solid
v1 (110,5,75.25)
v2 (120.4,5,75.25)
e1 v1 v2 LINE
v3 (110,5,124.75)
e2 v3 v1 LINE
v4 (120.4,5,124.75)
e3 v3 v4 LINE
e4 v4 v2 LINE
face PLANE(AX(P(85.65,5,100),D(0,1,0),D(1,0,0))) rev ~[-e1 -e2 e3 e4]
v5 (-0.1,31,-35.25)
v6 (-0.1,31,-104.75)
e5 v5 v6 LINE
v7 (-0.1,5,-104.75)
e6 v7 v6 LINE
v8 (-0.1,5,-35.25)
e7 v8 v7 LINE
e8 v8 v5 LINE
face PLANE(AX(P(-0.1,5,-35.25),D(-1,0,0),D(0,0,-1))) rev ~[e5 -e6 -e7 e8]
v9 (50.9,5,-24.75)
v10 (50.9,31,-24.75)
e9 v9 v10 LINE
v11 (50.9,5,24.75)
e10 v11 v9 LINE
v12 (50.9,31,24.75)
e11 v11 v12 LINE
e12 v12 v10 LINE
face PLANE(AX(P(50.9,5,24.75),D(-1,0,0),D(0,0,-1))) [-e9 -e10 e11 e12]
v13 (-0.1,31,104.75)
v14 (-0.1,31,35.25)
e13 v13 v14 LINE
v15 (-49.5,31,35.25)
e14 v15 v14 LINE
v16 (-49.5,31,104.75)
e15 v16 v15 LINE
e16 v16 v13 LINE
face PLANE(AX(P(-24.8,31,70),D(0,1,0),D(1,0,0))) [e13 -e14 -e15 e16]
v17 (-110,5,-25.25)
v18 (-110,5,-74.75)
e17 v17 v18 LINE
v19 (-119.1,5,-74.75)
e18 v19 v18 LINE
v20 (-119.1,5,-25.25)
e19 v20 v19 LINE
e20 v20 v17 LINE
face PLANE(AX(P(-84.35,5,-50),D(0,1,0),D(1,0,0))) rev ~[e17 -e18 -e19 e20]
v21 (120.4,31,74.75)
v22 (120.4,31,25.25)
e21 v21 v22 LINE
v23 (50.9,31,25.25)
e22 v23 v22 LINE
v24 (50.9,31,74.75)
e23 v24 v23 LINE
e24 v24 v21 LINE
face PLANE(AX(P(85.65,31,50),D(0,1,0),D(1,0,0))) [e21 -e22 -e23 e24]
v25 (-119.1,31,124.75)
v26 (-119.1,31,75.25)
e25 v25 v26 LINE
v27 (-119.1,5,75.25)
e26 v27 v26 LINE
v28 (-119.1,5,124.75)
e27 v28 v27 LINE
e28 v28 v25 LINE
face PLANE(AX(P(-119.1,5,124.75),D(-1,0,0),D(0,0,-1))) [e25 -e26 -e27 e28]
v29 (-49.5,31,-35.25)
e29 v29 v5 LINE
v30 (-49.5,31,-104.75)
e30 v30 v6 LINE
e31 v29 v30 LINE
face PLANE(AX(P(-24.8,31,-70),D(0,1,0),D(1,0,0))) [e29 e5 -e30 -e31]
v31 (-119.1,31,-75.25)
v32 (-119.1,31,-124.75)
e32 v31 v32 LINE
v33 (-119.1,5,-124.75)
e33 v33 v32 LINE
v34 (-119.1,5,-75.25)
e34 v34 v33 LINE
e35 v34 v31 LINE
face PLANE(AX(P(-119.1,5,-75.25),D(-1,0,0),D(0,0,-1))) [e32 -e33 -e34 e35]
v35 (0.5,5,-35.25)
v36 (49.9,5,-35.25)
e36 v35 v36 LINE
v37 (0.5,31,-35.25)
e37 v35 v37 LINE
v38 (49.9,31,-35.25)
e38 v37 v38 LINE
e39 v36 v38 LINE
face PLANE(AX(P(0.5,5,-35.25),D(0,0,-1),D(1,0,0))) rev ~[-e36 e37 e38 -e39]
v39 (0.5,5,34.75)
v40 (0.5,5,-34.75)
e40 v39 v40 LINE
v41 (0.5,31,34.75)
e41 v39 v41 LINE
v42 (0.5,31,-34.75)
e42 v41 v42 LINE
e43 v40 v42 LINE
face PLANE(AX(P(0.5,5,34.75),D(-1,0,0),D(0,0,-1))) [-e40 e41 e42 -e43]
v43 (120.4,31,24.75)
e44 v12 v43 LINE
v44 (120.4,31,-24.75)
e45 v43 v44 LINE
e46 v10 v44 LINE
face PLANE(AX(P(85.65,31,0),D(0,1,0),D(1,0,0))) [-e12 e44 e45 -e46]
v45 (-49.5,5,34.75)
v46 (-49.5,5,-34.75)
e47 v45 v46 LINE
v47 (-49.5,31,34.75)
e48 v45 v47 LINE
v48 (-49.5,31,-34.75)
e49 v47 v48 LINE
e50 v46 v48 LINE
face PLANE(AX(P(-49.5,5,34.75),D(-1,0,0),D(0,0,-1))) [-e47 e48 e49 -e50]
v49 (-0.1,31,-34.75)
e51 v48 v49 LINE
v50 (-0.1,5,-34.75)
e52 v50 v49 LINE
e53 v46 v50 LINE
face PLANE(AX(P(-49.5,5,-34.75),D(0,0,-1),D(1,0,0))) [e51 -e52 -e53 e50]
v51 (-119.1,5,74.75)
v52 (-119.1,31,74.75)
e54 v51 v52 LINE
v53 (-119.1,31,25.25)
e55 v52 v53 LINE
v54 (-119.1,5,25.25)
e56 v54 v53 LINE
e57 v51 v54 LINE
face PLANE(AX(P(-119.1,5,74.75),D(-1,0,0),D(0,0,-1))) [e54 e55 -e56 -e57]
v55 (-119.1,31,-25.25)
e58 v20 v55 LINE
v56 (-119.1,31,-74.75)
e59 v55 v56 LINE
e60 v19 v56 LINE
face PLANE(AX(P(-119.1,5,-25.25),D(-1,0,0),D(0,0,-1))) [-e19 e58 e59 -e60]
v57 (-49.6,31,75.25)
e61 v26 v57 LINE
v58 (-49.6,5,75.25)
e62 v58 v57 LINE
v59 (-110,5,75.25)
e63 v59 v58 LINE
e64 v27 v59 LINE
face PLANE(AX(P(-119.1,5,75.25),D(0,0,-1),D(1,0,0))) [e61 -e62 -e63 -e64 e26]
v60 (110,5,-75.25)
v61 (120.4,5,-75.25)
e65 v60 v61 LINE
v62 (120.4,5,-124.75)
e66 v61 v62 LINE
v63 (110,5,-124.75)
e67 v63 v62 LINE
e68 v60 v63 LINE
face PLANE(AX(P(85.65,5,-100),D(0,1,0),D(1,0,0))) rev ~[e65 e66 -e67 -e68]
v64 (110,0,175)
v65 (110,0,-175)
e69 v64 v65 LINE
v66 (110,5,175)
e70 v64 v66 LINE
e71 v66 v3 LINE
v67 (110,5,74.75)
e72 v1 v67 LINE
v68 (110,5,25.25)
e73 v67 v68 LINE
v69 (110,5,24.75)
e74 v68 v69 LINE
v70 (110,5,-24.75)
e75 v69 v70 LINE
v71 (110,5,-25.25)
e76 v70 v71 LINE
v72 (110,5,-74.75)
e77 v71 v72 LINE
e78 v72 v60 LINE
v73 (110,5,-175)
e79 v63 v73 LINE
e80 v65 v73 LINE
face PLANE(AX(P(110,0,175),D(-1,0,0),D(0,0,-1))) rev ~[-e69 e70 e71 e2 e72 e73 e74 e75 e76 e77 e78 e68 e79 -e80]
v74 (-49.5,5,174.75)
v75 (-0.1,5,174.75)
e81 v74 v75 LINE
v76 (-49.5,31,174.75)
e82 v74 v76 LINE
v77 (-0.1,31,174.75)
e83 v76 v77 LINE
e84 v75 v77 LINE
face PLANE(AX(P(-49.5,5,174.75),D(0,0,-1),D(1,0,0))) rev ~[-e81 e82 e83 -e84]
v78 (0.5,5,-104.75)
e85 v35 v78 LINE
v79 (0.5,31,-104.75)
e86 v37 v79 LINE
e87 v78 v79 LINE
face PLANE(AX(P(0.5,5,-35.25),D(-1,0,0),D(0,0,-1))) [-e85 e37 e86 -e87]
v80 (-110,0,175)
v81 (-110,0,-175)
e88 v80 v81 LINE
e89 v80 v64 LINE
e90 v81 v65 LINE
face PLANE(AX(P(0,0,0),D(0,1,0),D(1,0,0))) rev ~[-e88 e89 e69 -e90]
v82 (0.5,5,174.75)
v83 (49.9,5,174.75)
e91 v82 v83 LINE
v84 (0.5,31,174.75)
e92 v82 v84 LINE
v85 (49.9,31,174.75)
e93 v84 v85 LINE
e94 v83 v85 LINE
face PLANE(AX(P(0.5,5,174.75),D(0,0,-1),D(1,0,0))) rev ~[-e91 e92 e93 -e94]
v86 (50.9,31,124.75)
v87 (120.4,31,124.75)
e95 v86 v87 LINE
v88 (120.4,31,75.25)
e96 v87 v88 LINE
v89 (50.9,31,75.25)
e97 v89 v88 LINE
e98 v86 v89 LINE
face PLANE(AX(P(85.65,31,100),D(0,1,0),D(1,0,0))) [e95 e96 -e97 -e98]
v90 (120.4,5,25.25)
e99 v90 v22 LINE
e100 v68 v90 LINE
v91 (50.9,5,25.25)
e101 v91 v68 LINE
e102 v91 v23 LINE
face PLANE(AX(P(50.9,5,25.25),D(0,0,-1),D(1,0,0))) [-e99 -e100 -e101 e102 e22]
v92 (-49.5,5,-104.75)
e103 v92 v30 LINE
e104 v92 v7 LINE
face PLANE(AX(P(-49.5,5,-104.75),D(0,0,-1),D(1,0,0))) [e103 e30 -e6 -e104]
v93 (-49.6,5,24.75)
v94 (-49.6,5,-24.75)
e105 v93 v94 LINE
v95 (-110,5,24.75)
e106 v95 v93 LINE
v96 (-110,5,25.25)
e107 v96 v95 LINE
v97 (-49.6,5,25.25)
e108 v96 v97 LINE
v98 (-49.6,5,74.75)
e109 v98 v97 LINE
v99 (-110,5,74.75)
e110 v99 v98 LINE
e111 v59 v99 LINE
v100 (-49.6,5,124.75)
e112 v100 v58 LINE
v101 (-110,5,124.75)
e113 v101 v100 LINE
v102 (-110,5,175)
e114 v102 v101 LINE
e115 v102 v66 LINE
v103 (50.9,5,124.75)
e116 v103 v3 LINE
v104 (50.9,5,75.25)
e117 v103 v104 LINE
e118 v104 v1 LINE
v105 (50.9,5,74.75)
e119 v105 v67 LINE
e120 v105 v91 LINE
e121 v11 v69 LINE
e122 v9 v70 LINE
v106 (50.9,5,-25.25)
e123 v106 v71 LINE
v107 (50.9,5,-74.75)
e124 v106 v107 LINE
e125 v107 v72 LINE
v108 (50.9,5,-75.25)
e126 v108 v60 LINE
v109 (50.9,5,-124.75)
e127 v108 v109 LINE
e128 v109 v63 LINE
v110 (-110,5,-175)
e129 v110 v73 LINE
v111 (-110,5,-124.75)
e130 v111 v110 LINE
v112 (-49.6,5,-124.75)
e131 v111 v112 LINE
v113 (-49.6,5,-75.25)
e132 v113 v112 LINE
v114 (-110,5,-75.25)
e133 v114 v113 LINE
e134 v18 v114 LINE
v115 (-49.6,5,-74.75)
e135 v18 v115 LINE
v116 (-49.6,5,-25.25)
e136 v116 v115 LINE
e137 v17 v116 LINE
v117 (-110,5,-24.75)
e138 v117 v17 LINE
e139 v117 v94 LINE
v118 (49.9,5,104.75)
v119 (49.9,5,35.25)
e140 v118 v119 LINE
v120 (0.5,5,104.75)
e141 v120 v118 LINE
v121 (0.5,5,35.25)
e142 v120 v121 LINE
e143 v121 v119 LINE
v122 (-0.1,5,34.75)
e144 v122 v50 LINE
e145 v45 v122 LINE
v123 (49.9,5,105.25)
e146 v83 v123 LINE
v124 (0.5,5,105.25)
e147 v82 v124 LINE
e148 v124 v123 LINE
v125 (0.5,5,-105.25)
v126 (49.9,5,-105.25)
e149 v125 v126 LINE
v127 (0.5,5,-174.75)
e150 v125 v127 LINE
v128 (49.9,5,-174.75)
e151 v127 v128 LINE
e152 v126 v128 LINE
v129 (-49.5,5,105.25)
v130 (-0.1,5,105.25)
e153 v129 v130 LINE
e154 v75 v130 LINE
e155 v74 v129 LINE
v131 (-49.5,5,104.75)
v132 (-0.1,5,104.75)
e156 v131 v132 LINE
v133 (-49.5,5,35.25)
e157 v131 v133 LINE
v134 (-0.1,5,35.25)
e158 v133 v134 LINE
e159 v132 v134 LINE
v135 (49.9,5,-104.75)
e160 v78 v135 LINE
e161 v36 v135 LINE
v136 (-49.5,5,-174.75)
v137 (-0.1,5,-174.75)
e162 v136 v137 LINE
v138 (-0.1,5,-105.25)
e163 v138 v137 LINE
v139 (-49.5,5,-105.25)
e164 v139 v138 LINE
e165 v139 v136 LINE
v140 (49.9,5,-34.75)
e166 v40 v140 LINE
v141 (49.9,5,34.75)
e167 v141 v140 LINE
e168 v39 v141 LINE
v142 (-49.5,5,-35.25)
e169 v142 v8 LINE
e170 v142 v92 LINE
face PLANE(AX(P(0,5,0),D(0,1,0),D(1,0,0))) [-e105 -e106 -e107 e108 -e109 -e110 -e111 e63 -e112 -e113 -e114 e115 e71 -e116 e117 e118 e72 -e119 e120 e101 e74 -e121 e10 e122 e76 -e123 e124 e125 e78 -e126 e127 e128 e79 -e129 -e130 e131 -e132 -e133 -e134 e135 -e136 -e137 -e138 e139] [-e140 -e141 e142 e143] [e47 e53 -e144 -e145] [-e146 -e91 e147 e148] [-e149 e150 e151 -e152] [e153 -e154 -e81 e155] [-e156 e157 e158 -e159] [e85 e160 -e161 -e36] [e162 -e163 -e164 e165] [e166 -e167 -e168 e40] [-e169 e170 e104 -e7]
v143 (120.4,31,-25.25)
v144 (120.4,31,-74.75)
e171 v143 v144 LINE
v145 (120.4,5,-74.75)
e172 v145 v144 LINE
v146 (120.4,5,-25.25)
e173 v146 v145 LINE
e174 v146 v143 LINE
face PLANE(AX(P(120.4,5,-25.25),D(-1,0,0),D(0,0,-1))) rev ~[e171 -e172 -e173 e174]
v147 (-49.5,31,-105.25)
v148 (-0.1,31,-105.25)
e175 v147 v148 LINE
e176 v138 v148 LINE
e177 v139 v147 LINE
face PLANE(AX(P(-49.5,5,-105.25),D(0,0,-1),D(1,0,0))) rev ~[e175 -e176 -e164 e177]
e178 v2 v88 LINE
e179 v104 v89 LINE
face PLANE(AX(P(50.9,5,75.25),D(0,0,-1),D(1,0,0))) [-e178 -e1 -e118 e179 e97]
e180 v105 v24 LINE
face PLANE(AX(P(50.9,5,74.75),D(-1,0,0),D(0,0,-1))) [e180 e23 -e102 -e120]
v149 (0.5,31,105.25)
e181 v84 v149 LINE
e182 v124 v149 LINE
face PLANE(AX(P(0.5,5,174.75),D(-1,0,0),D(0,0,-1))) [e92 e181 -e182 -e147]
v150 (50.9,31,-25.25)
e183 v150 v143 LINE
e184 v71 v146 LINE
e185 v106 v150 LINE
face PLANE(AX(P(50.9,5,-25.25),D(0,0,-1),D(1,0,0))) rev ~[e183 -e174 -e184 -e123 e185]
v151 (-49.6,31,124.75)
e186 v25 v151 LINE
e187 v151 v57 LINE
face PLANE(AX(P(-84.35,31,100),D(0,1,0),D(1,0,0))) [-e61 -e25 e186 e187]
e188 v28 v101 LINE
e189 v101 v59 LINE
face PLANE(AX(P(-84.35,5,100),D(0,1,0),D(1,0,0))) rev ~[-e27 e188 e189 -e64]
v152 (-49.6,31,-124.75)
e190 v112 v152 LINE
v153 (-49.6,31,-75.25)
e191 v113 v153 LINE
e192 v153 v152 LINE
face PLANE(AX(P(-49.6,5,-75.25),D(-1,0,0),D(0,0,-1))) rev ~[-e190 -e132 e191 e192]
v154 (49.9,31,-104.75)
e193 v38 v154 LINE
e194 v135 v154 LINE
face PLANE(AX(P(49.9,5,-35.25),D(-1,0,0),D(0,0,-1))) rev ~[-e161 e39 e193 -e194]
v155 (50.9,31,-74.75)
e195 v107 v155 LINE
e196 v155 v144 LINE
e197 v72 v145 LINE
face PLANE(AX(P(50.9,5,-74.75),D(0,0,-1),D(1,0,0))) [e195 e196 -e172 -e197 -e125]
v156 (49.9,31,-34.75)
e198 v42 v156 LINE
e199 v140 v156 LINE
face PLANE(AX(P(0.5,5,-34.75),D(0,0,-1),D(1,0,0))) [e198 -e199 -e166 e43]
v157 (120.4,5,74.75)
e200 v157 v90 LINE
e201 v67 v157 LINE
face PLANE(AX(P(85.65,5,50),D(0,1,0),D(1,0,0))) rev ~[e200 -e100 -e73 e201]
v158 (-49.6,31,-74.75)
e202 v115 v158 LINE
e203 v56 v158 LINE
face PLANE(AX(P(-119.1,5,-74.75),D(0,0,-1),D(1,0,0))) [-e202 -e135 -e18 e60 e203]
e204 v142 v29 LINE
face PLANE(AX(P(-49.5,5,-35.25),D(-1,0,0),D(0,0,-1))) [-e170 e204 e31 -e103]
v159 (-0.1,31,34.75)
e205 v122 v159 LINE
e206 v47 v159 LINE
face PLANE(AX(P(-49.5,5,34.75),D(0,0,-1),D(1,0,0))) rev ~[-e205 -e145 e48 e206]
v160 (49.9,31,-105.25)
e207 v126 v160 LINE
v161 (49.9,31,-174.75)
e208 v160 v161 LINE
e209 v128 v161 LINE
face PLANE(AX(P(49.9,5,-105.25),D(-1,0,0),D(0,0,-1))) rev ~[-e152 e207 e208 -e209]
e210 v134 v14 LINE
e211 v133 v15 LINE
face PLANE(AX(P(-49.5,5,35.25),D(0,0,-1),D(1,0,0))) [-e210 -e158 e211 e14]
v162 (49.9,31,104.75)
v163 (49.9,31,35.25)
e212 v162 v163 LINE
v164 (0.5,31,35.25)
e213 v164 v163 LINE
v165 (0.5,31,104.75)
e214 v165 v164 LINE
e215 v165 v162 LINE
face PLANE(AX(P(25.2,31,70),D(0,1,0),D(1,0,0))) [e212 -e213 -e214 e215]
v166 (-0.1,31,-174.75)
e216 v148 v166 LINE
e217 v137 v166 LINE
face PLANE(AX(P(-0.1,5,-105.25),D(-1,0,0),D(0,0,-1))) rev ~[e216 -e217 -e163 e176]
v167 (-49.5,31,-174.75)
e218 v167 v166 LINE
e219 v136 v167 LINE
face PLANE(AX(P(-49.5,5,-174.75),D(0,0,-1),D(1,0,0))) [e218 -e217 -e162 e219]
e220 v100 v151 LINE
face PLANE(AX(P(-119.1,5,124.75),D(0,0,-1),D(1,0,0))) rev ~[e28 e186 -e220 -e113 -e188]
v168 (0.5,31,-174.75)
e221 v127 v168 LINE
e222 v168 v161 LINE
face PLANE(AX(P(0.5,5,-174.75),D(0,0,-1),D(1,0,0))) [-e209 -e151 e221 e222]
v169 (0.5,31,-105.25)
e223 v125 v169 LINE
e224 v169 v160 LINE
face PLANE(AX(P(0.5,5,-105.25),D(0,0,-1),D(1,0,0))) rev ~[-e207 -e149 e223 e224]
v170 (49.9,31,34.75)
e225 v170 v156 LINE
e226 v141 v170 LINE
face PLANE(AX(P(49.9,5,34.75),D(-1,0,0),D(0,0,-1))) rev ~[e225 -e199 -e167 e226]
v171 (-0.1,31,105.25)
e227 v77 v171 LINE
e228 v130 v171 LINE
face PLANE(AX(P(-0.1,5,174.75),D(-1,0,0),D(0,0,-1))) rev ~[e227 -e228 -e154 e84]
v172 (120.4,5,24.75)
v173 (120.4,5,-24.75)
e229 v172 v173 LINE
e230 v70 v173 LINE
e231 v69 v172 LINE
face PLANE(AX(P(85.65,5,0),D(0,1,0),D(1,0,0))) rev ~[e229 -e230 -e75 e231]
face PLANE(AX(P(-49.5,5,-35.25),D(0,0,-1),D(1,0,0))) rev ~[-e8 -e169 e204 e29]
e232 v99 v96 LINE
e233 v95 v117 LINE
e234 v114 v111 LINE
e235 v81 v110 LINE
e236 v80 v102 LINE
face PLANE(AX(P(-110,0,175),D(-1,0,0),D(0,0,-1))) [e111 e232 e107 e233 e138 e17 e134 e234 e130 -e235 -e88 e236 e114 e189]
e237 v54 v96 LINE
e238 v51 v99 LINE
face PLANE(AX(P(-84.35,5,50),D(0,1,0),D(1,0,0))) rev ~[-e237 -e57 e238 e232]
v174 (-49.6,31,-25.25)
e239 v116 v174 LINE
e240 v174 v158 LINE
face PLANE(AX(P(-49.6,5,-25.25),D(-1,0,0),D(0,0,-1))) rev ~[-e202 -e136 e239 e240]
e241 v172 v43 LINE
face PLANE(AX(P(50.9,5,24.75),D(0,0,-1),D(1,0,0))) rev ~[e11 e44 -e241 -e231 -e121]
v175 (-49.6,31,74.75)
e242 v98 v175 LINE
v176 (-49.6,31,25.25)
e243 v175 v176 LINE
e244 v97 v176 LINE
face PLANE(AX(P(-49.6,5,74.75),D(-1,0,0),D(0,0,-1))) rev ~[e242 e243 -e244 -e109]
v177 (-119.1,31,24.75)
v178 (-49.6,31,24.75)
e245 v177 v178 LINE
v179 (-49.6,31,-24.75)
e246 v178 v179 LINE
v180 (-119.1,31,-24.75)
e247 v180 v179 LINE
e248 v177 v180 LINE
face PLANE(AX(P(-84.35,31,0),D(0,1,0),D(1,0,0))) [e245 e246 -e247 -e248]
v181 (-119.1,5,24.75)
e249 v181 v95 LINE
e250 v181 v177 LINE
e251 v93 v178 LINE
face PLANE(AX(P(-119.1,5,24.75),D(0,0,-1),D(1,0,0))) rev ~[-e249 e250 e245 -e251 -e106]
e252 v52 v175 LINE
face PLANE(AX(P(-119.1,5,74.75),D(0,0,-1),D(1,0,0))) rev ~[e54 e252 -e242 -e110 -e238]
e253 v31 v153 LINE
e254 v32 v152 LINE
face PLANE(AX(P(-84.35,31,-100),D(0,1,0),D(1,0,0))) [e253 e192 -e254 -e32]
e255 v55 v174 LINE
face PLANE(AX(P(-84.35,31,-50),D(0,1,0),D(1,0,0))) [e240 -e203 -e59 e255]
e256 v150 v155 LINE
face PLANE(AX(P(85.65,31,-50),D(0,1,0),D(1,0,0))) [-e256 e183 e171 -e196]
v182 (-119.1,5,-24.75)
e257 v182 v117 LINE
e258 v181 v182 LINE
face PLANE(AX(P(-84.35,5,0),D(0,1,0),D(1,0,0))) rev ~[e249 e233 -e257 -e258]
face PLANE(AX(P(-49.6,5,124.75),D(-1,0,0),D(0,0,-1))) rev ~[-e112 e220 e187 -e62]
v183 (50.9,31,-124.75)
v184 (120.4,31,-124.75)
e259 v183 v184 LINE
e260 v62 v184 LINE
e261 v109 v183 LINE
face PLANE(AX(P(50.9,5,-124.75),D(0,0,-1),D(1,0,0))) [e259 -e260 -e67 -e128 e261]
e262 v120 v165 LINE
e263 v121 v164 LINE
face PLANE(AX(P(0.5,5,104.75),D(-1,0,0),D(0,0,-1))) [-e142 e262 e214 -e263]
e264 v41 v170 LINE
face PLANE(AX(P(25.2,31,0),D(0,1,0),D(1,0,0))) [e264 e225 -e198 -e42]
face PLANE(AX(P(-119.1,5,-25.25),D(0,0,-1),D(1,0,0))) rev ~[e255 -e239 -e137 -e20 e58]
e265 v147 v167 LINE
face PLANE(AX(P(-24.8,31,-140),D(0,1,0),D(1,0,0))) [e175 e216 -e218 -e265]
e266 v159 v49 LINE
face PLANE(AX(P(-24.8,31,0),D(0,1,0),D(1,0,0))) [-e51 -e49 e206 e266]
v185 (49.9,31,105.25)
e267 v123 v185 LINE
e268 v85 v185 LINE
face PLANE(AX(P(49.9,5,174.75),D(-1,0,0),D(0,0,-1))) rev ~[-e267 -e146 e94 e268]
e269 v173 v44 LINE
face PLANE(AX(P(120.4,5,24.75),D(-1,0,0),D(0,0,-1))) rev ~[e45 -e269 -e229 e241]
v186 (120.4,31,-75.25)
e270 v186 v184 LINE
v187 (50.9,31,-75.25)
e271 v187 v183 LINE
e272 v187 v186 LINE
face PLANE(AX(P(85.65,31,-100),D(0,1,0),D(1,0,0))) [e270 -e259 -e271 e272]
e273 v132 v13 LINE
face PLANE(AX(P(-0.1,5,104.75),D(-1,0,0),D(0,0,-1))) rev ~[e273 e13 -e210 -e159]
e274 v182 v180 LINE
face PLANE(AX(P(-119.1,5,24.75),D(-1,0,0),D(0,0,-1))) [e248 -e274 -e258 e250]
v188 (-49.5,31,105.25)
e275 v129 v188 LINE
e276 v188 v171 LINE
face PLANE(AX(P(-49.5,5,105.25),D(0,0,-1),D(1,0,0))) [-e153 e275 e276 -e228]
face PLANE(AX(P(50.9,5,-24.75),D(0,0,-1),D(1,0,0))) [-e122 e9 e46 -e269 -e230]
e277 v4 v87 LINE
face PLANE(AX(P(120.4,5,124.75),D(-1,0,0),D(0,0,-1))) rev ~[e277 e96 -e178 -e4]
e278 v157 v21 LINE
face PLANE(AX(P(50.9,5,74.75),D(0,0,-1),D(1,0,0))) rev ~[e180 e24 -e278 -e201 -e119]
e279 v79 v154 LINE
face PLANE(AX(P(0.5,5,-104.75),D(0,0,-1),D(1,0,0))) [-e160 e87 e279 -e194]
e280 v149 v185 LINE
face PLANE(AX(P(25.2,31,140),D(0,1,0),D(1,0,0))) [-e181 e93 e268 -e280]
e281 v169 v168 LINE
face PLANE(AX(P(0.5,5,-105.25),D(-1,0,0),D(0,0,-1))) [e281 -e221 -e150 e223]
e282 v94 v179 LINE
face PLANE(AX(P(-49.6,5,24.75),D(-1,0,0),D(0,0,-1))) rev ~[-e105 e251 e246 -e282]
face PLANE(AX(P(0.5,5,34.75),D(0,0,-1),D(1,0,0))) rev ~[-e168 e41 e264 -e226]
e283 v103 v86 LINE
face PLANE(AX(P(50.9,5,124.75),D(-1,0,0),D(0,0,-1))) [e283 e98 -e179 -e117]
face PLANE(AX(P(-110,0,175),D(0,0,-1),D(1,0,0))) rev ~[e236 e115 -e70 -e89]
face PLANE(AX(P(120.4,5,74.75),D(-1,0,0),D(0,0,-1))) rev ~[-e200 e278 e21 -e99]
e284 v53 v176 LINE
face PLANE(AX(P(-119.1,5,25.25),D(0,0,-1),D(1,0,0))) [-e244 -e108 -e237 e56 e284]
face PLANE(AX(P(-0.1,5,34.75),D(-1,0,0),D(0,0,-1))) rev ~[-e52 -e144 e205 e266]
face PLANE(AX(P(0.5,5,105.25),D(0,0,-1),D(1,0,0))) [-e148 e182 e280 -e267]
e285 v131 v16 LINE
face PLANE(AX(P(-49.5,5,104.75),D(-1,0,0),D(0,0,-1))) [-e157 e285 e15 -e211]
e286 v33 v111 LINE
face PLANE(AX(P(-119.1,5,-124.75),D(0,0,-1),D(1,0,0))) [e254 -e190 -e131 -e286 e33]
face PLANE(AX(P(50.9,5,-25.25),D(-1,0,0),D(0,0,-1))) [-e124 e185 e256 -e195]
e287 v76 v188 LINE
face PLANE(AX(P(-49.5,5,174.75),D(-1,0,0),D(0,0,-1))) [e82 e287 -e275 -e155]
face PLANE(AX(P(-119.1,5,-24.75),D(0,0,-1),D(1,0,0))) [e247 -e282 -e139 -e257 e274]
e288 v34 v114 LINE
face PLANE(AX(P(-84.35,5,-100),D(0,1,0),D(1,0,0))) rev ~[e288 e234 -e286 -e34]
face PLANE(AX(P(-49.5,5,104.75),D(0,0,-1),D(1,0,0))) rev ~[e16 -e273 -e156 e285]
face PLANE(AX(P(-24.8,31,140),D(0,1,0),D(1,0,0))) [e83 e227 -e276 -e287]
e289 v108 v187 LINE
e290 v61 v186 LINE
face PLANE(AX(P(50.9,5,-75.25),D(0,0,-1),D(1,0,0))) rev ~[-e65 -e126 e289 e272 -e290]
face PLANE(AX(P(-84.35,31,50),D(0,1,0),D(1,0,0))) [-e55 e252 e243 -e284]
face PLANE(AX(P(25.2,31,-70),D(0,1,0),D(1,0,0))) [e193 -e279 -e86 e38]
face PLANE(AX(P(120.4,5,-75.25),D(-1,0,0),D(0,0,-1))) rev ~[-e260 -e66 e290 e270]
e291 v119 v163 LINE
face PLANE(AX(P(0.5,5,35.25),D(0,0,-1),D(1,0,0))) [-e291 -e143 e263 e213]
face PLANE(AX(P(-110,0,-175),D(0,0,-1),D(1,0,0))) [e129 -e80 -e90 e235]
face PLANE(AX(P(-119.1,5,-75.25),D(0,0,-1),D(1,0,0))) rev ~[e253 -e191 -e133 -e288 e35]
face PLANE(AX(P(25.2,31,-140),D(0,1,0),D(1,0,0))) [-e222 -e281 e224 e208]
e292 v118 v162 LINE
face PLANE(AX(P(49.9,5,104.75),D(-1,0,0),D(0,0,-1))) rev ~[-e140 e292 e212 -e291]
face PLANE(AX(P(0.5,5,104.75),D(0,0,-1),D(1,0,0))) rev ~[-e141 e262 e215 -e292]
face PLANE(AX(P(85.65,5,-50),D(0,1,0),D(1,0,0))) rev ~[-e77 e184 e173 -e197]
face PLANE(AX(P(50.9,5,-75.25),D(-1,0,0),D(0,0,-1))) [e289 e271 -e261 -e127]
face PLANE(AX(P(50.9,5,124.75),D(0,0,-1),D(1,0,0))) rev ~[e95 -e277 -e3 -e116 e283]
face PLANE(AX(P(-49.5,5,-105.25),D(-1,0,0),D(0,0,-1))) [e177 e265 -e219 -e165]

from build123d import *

# Parameters (mm, degrees)
SKETCH1_W                     = 220
SKETCH1_H                     = 350
BOSS_EXTRUDE1_DEPTH           = 5
SKETCH2_W                     = 49.4
SKETCH2_H                     = 69.5
BOSS_EXTRUDE2_DEPTH           = 26
LPATTERN1_COUNT               = 2
LPATTERN1_PITCH               = 50
LPATTERN3_COUNT               = 3
LPATTERN3_PITCH               = 70
LPATTERN3_COPY_1_SKETCH_W     = 49.4
LPATTERN3_COPY_1_SKETCH_H     = 69.5
LPATTERN3_COPY_1_DEPTH        = 26
LPATTERN3_COPY_2_SKETCH_W     = 49.4
LPATTERN3_COPY_2_SKETCH_H     = 69.5
LPATTERN3_COPY_2_DEPTH        = 26
LPATTERN3_COL_COUNT           = 3
LPATTERN3_COL_PITCH           = 70
LPATTERN3_COL_COPY_1_SKETCH_W = 49.4
LPATTERN3_COL_COPY_1_SKETCH_H = 69.5
LPATTERN3_COL_COPY_1_DEPTH    = 26
LPATTERN3_COL_COPY_2_SKETCH_W = 49.4
LPATTERN3_COL_COPY_2_SKETCH_H = 69.5
LPATTERN3_COL_COPY_2_DEPTH    = 26
SKETCH4_W                     = 69.5
SKETCH4_H                     = 49.5
BOSS_EXTRUDE3_DEPTH           = 26
LPATTERN4_COUNT               = 3
LPATTERN4_PITCH               = 50
LPATTERN4_COL_COUNT           = 3
LPATTERN4_COL_PITCH           = 50
LPATTERN5_COUNT               = 2
LPATTERN5_PITCH               = 170
LPATTERN5_COPY_1_SKETCH_W     = 69.5
LPATTERN5_COPY_1_SKETCH_H     = 49.5
LPATTERN5_COPY_1_DEPTH        = 26
LPATTERN5_COPY_2_SKETCH_W     = 69.5
LPATTERN5_COPY_2_SKETCH_H     = 49.5
LPATTERN5_COPY_2_DEPTH        = 26
LPATTERN5_COPY_3_SKETCH_W     = 69.5
LPATTERN5_COPY_3_SKETCH_H     = 49.5
LPATTERN5_COPY_3_DEPTH        = 26
LPATTERN5_COPY_4_SKETCH_W     = 69.5
LPATTERN5_COPY_4_SKETCH_H     = 49.5
LPATTERN5_COPY_4_DEPTH        = 26


with BuildPart() as part:
    # Sketch1 → Boss-Extrude1 (new body)
    with BuildSketch(Plane(origin=(0, 0, 0), x_dir=(1, 0, 0), z_dir=(0, 1, 0))):
        Rectangle(SKETCH1_W, SKETCH1_H)
    extrude(amount=BOSS_EXTRUDE1_DEPTH)

    # Sketch2 → Boss-Extrude2 (add)
    with BuildSketch(Plane(origin=(0, 5, 0), x_dir=(1, 0, 0), z_dir=(0, 1, 0))):
        with Locations((-24.8, 0)):
            Rectangle(SKETCH2_W, SKETCH2_H)
    boss_extrude2 = extrude(amount=BOSS_EXTRUDE2_DEPTH)

    # LPattern1: Boss-Extrude2 ×2
    with Locations(*[(i * LPATTERN1_PITCH, 0, 0) for i in range(1, LPATTERN1_COUNT)]):
        add(boss_extrude2)

    # LPattern3: Boss-Extrude2 ×3
    with Locations(*[(0, 0, -i * LPATTERN3_PITCH) for i in range(1, LPATTERN3_COUNT)]):
        add(boss_extrude2)

    # LPattern3 copy 1 sketch → LPattern3 copy 1 (add)
    with BuildSketch(Plane(origin=(50, 5, -70), x_dir=(1, 0, 0), z_dir=(0, 1, 0))):
        with Locations((-24.8, 0)):
            Rectangle(LPATTERN3_COPY_1_SKETCH_W, LPATTERN3_COPY_1_SKETCH_H)
    extrude(amount=LPATTERN3_COPY_1_DEPTH)

    # LPattern3 copy 2 sketch → LPattern3 copy 2 (add)
    with BuildSketch(Plane(origin=(50, 5, -140), x_dir=(1, 0, 0), z_dir=(0, 1, 0))):
        with Locations((-24.8, 0)):
            Rectangle(LPATTERN3_COPY_2_SKETCH_W, LPATTERN3_COPY_2_SKETCH_H)
    extrude(amount=LPATTERN3_COPY_2_DEPTH)

    # LPattern3 col: Boss-Extrude2 ×3
    with Locations(*[(0, 0, i * LPATTERN3_COL_PITCH) for i in range(1, LPATTERN3_COL_COUNT)]):
        add(boss_extrude2)

    # LPattern3 col copy 1 sketch → LPattern3 col copy 1 (add)
    with BuildSketch(Plane(origin=(50, 5, 70), x_dir=(1, 0, 0), z_dir=(0, 1, 0))):
        with Locations((-24.8, 0)):
            Rectangle(LPATTERN3_COL_COPY_1_SKETCH_W, LPATTERN3_COL_COPY_1_SKETCH_H)
    extrude(amount=LPATTERN3_COL_COPY_1_DEPTH)

    # LPattern3 col copy 2 sketch → LPattern3 col copy 2 (add)
    with BuildSketch(Plane(origin=(50, 5, 140), x_dir=(1, 0, 0), z_dir=(0, 1, 0))):
        with Locations((-24.8, 0)):
            Rectangle(LPATTERN3_COL_COPY_2_SKETCH_W, LPATTERN3_COL_COPY_2_SKETCH_H)
    extrude(amount=LPATTERN3_COL_COPY_2_DEPTH)

    # Sketch4 → Boss-Extrude3 (add)
    with BuildSketch(Plane(origin=(0, 5, 0), x_dir=(1, 0, 0), z_dir=(0, 1, 0))):
        with Locations((-84.35, 0)):
            Rectangle(SKETCH4_W, SKETCH4_H)
    boss_extrude3 = extrude(amount=BOSS_EXTRUDE3_DEPTH)

    # LPattern4: Boss-Extrude3 ×3
    with Locations(*[(0, 0, i * LPATTERN4_PITCH) for i in range(1, LPATTERN4_COUNT)]):
        add(boss_extrude3)

    # LPattern4 col: Boss-Extrude3 ×3
    with Locations(*[(0, 0, -i * LPATTERN4_COL_PITCH) for i in range(1, LPATTERN4_COL_COUNT)]):
        add(boss_extrude3)

    # LPattern5: Boss-Extrude3 ×2
    with Locations(*[(i * LPATTERN5_PITCH, 0, 0) for i in range(1, LPATTERN5_COUNT)]):
        add(boss_extrude3)

    # LPattern5 copy 1 sketch → LPattern5 copy 1 (add)
    with BuildSketch(Plane(origin=(170, 5, 50), x_dir=(1, 0, 0), z_dir=(0, 1, 0))):
        with Locations((-84.35, 0)):
            Rectangle(LPATTERN5_COPY_1_SKETCH_W, LPATTERN5_COPY_1_SKETCH_H)
    extrude(amount=LPATTERN5_COPY_1_DEPTH)

    # LPattern5 copy 2 sketch → LPattern5 copy 2 (add)
    with BuildSketch(Plane(origin=(170, 5, 100), x_dir=(1, 0, 0), z_dir=(0, 1, 0))):
        with Locations((-84.35, 0)):
            Rectangle(LPATTERN5_COPY_2_SKETCH_W, LPATTERN5_COPY_2_SKETCH_H)
    extrude(amount=LPATTERN5_COPY_2_DEPTH)

    # LPattern5 copy 3 sketch → LPattern5 copy 3 (add)
    with BuildSketch(Plane(origin=(170, 5, -50), x_dir=(1, 0, 0), z_dir=(0, 1, 0))):
        with Locations((-84.35, 0)):
            Rectangle(LPATTERN5_COPY_3_SKETCH_W, LPATTERN5_COPY_3_SKETCH_H)
    extrude(amount=LPATTERN5_COPY_3_DEPTH)

    # LPattern5 copy 4 sketch → LPattern5 copy 4 (add)
    with BuildSketch(Plane(origin=(170, 5, -100), x_dir=(1, 0, 0), z_dir=(0, 1, 0))):
        with Locations((-84.35, 0)):
            Rectangle(LPATTERN5_COPY_4_SKETCH_W, LPATTERN5_COPY_4_SKETCH_H)
    extrude(amount=LPATTERN5_COPY_4_DEPTH)


solid = part.part
